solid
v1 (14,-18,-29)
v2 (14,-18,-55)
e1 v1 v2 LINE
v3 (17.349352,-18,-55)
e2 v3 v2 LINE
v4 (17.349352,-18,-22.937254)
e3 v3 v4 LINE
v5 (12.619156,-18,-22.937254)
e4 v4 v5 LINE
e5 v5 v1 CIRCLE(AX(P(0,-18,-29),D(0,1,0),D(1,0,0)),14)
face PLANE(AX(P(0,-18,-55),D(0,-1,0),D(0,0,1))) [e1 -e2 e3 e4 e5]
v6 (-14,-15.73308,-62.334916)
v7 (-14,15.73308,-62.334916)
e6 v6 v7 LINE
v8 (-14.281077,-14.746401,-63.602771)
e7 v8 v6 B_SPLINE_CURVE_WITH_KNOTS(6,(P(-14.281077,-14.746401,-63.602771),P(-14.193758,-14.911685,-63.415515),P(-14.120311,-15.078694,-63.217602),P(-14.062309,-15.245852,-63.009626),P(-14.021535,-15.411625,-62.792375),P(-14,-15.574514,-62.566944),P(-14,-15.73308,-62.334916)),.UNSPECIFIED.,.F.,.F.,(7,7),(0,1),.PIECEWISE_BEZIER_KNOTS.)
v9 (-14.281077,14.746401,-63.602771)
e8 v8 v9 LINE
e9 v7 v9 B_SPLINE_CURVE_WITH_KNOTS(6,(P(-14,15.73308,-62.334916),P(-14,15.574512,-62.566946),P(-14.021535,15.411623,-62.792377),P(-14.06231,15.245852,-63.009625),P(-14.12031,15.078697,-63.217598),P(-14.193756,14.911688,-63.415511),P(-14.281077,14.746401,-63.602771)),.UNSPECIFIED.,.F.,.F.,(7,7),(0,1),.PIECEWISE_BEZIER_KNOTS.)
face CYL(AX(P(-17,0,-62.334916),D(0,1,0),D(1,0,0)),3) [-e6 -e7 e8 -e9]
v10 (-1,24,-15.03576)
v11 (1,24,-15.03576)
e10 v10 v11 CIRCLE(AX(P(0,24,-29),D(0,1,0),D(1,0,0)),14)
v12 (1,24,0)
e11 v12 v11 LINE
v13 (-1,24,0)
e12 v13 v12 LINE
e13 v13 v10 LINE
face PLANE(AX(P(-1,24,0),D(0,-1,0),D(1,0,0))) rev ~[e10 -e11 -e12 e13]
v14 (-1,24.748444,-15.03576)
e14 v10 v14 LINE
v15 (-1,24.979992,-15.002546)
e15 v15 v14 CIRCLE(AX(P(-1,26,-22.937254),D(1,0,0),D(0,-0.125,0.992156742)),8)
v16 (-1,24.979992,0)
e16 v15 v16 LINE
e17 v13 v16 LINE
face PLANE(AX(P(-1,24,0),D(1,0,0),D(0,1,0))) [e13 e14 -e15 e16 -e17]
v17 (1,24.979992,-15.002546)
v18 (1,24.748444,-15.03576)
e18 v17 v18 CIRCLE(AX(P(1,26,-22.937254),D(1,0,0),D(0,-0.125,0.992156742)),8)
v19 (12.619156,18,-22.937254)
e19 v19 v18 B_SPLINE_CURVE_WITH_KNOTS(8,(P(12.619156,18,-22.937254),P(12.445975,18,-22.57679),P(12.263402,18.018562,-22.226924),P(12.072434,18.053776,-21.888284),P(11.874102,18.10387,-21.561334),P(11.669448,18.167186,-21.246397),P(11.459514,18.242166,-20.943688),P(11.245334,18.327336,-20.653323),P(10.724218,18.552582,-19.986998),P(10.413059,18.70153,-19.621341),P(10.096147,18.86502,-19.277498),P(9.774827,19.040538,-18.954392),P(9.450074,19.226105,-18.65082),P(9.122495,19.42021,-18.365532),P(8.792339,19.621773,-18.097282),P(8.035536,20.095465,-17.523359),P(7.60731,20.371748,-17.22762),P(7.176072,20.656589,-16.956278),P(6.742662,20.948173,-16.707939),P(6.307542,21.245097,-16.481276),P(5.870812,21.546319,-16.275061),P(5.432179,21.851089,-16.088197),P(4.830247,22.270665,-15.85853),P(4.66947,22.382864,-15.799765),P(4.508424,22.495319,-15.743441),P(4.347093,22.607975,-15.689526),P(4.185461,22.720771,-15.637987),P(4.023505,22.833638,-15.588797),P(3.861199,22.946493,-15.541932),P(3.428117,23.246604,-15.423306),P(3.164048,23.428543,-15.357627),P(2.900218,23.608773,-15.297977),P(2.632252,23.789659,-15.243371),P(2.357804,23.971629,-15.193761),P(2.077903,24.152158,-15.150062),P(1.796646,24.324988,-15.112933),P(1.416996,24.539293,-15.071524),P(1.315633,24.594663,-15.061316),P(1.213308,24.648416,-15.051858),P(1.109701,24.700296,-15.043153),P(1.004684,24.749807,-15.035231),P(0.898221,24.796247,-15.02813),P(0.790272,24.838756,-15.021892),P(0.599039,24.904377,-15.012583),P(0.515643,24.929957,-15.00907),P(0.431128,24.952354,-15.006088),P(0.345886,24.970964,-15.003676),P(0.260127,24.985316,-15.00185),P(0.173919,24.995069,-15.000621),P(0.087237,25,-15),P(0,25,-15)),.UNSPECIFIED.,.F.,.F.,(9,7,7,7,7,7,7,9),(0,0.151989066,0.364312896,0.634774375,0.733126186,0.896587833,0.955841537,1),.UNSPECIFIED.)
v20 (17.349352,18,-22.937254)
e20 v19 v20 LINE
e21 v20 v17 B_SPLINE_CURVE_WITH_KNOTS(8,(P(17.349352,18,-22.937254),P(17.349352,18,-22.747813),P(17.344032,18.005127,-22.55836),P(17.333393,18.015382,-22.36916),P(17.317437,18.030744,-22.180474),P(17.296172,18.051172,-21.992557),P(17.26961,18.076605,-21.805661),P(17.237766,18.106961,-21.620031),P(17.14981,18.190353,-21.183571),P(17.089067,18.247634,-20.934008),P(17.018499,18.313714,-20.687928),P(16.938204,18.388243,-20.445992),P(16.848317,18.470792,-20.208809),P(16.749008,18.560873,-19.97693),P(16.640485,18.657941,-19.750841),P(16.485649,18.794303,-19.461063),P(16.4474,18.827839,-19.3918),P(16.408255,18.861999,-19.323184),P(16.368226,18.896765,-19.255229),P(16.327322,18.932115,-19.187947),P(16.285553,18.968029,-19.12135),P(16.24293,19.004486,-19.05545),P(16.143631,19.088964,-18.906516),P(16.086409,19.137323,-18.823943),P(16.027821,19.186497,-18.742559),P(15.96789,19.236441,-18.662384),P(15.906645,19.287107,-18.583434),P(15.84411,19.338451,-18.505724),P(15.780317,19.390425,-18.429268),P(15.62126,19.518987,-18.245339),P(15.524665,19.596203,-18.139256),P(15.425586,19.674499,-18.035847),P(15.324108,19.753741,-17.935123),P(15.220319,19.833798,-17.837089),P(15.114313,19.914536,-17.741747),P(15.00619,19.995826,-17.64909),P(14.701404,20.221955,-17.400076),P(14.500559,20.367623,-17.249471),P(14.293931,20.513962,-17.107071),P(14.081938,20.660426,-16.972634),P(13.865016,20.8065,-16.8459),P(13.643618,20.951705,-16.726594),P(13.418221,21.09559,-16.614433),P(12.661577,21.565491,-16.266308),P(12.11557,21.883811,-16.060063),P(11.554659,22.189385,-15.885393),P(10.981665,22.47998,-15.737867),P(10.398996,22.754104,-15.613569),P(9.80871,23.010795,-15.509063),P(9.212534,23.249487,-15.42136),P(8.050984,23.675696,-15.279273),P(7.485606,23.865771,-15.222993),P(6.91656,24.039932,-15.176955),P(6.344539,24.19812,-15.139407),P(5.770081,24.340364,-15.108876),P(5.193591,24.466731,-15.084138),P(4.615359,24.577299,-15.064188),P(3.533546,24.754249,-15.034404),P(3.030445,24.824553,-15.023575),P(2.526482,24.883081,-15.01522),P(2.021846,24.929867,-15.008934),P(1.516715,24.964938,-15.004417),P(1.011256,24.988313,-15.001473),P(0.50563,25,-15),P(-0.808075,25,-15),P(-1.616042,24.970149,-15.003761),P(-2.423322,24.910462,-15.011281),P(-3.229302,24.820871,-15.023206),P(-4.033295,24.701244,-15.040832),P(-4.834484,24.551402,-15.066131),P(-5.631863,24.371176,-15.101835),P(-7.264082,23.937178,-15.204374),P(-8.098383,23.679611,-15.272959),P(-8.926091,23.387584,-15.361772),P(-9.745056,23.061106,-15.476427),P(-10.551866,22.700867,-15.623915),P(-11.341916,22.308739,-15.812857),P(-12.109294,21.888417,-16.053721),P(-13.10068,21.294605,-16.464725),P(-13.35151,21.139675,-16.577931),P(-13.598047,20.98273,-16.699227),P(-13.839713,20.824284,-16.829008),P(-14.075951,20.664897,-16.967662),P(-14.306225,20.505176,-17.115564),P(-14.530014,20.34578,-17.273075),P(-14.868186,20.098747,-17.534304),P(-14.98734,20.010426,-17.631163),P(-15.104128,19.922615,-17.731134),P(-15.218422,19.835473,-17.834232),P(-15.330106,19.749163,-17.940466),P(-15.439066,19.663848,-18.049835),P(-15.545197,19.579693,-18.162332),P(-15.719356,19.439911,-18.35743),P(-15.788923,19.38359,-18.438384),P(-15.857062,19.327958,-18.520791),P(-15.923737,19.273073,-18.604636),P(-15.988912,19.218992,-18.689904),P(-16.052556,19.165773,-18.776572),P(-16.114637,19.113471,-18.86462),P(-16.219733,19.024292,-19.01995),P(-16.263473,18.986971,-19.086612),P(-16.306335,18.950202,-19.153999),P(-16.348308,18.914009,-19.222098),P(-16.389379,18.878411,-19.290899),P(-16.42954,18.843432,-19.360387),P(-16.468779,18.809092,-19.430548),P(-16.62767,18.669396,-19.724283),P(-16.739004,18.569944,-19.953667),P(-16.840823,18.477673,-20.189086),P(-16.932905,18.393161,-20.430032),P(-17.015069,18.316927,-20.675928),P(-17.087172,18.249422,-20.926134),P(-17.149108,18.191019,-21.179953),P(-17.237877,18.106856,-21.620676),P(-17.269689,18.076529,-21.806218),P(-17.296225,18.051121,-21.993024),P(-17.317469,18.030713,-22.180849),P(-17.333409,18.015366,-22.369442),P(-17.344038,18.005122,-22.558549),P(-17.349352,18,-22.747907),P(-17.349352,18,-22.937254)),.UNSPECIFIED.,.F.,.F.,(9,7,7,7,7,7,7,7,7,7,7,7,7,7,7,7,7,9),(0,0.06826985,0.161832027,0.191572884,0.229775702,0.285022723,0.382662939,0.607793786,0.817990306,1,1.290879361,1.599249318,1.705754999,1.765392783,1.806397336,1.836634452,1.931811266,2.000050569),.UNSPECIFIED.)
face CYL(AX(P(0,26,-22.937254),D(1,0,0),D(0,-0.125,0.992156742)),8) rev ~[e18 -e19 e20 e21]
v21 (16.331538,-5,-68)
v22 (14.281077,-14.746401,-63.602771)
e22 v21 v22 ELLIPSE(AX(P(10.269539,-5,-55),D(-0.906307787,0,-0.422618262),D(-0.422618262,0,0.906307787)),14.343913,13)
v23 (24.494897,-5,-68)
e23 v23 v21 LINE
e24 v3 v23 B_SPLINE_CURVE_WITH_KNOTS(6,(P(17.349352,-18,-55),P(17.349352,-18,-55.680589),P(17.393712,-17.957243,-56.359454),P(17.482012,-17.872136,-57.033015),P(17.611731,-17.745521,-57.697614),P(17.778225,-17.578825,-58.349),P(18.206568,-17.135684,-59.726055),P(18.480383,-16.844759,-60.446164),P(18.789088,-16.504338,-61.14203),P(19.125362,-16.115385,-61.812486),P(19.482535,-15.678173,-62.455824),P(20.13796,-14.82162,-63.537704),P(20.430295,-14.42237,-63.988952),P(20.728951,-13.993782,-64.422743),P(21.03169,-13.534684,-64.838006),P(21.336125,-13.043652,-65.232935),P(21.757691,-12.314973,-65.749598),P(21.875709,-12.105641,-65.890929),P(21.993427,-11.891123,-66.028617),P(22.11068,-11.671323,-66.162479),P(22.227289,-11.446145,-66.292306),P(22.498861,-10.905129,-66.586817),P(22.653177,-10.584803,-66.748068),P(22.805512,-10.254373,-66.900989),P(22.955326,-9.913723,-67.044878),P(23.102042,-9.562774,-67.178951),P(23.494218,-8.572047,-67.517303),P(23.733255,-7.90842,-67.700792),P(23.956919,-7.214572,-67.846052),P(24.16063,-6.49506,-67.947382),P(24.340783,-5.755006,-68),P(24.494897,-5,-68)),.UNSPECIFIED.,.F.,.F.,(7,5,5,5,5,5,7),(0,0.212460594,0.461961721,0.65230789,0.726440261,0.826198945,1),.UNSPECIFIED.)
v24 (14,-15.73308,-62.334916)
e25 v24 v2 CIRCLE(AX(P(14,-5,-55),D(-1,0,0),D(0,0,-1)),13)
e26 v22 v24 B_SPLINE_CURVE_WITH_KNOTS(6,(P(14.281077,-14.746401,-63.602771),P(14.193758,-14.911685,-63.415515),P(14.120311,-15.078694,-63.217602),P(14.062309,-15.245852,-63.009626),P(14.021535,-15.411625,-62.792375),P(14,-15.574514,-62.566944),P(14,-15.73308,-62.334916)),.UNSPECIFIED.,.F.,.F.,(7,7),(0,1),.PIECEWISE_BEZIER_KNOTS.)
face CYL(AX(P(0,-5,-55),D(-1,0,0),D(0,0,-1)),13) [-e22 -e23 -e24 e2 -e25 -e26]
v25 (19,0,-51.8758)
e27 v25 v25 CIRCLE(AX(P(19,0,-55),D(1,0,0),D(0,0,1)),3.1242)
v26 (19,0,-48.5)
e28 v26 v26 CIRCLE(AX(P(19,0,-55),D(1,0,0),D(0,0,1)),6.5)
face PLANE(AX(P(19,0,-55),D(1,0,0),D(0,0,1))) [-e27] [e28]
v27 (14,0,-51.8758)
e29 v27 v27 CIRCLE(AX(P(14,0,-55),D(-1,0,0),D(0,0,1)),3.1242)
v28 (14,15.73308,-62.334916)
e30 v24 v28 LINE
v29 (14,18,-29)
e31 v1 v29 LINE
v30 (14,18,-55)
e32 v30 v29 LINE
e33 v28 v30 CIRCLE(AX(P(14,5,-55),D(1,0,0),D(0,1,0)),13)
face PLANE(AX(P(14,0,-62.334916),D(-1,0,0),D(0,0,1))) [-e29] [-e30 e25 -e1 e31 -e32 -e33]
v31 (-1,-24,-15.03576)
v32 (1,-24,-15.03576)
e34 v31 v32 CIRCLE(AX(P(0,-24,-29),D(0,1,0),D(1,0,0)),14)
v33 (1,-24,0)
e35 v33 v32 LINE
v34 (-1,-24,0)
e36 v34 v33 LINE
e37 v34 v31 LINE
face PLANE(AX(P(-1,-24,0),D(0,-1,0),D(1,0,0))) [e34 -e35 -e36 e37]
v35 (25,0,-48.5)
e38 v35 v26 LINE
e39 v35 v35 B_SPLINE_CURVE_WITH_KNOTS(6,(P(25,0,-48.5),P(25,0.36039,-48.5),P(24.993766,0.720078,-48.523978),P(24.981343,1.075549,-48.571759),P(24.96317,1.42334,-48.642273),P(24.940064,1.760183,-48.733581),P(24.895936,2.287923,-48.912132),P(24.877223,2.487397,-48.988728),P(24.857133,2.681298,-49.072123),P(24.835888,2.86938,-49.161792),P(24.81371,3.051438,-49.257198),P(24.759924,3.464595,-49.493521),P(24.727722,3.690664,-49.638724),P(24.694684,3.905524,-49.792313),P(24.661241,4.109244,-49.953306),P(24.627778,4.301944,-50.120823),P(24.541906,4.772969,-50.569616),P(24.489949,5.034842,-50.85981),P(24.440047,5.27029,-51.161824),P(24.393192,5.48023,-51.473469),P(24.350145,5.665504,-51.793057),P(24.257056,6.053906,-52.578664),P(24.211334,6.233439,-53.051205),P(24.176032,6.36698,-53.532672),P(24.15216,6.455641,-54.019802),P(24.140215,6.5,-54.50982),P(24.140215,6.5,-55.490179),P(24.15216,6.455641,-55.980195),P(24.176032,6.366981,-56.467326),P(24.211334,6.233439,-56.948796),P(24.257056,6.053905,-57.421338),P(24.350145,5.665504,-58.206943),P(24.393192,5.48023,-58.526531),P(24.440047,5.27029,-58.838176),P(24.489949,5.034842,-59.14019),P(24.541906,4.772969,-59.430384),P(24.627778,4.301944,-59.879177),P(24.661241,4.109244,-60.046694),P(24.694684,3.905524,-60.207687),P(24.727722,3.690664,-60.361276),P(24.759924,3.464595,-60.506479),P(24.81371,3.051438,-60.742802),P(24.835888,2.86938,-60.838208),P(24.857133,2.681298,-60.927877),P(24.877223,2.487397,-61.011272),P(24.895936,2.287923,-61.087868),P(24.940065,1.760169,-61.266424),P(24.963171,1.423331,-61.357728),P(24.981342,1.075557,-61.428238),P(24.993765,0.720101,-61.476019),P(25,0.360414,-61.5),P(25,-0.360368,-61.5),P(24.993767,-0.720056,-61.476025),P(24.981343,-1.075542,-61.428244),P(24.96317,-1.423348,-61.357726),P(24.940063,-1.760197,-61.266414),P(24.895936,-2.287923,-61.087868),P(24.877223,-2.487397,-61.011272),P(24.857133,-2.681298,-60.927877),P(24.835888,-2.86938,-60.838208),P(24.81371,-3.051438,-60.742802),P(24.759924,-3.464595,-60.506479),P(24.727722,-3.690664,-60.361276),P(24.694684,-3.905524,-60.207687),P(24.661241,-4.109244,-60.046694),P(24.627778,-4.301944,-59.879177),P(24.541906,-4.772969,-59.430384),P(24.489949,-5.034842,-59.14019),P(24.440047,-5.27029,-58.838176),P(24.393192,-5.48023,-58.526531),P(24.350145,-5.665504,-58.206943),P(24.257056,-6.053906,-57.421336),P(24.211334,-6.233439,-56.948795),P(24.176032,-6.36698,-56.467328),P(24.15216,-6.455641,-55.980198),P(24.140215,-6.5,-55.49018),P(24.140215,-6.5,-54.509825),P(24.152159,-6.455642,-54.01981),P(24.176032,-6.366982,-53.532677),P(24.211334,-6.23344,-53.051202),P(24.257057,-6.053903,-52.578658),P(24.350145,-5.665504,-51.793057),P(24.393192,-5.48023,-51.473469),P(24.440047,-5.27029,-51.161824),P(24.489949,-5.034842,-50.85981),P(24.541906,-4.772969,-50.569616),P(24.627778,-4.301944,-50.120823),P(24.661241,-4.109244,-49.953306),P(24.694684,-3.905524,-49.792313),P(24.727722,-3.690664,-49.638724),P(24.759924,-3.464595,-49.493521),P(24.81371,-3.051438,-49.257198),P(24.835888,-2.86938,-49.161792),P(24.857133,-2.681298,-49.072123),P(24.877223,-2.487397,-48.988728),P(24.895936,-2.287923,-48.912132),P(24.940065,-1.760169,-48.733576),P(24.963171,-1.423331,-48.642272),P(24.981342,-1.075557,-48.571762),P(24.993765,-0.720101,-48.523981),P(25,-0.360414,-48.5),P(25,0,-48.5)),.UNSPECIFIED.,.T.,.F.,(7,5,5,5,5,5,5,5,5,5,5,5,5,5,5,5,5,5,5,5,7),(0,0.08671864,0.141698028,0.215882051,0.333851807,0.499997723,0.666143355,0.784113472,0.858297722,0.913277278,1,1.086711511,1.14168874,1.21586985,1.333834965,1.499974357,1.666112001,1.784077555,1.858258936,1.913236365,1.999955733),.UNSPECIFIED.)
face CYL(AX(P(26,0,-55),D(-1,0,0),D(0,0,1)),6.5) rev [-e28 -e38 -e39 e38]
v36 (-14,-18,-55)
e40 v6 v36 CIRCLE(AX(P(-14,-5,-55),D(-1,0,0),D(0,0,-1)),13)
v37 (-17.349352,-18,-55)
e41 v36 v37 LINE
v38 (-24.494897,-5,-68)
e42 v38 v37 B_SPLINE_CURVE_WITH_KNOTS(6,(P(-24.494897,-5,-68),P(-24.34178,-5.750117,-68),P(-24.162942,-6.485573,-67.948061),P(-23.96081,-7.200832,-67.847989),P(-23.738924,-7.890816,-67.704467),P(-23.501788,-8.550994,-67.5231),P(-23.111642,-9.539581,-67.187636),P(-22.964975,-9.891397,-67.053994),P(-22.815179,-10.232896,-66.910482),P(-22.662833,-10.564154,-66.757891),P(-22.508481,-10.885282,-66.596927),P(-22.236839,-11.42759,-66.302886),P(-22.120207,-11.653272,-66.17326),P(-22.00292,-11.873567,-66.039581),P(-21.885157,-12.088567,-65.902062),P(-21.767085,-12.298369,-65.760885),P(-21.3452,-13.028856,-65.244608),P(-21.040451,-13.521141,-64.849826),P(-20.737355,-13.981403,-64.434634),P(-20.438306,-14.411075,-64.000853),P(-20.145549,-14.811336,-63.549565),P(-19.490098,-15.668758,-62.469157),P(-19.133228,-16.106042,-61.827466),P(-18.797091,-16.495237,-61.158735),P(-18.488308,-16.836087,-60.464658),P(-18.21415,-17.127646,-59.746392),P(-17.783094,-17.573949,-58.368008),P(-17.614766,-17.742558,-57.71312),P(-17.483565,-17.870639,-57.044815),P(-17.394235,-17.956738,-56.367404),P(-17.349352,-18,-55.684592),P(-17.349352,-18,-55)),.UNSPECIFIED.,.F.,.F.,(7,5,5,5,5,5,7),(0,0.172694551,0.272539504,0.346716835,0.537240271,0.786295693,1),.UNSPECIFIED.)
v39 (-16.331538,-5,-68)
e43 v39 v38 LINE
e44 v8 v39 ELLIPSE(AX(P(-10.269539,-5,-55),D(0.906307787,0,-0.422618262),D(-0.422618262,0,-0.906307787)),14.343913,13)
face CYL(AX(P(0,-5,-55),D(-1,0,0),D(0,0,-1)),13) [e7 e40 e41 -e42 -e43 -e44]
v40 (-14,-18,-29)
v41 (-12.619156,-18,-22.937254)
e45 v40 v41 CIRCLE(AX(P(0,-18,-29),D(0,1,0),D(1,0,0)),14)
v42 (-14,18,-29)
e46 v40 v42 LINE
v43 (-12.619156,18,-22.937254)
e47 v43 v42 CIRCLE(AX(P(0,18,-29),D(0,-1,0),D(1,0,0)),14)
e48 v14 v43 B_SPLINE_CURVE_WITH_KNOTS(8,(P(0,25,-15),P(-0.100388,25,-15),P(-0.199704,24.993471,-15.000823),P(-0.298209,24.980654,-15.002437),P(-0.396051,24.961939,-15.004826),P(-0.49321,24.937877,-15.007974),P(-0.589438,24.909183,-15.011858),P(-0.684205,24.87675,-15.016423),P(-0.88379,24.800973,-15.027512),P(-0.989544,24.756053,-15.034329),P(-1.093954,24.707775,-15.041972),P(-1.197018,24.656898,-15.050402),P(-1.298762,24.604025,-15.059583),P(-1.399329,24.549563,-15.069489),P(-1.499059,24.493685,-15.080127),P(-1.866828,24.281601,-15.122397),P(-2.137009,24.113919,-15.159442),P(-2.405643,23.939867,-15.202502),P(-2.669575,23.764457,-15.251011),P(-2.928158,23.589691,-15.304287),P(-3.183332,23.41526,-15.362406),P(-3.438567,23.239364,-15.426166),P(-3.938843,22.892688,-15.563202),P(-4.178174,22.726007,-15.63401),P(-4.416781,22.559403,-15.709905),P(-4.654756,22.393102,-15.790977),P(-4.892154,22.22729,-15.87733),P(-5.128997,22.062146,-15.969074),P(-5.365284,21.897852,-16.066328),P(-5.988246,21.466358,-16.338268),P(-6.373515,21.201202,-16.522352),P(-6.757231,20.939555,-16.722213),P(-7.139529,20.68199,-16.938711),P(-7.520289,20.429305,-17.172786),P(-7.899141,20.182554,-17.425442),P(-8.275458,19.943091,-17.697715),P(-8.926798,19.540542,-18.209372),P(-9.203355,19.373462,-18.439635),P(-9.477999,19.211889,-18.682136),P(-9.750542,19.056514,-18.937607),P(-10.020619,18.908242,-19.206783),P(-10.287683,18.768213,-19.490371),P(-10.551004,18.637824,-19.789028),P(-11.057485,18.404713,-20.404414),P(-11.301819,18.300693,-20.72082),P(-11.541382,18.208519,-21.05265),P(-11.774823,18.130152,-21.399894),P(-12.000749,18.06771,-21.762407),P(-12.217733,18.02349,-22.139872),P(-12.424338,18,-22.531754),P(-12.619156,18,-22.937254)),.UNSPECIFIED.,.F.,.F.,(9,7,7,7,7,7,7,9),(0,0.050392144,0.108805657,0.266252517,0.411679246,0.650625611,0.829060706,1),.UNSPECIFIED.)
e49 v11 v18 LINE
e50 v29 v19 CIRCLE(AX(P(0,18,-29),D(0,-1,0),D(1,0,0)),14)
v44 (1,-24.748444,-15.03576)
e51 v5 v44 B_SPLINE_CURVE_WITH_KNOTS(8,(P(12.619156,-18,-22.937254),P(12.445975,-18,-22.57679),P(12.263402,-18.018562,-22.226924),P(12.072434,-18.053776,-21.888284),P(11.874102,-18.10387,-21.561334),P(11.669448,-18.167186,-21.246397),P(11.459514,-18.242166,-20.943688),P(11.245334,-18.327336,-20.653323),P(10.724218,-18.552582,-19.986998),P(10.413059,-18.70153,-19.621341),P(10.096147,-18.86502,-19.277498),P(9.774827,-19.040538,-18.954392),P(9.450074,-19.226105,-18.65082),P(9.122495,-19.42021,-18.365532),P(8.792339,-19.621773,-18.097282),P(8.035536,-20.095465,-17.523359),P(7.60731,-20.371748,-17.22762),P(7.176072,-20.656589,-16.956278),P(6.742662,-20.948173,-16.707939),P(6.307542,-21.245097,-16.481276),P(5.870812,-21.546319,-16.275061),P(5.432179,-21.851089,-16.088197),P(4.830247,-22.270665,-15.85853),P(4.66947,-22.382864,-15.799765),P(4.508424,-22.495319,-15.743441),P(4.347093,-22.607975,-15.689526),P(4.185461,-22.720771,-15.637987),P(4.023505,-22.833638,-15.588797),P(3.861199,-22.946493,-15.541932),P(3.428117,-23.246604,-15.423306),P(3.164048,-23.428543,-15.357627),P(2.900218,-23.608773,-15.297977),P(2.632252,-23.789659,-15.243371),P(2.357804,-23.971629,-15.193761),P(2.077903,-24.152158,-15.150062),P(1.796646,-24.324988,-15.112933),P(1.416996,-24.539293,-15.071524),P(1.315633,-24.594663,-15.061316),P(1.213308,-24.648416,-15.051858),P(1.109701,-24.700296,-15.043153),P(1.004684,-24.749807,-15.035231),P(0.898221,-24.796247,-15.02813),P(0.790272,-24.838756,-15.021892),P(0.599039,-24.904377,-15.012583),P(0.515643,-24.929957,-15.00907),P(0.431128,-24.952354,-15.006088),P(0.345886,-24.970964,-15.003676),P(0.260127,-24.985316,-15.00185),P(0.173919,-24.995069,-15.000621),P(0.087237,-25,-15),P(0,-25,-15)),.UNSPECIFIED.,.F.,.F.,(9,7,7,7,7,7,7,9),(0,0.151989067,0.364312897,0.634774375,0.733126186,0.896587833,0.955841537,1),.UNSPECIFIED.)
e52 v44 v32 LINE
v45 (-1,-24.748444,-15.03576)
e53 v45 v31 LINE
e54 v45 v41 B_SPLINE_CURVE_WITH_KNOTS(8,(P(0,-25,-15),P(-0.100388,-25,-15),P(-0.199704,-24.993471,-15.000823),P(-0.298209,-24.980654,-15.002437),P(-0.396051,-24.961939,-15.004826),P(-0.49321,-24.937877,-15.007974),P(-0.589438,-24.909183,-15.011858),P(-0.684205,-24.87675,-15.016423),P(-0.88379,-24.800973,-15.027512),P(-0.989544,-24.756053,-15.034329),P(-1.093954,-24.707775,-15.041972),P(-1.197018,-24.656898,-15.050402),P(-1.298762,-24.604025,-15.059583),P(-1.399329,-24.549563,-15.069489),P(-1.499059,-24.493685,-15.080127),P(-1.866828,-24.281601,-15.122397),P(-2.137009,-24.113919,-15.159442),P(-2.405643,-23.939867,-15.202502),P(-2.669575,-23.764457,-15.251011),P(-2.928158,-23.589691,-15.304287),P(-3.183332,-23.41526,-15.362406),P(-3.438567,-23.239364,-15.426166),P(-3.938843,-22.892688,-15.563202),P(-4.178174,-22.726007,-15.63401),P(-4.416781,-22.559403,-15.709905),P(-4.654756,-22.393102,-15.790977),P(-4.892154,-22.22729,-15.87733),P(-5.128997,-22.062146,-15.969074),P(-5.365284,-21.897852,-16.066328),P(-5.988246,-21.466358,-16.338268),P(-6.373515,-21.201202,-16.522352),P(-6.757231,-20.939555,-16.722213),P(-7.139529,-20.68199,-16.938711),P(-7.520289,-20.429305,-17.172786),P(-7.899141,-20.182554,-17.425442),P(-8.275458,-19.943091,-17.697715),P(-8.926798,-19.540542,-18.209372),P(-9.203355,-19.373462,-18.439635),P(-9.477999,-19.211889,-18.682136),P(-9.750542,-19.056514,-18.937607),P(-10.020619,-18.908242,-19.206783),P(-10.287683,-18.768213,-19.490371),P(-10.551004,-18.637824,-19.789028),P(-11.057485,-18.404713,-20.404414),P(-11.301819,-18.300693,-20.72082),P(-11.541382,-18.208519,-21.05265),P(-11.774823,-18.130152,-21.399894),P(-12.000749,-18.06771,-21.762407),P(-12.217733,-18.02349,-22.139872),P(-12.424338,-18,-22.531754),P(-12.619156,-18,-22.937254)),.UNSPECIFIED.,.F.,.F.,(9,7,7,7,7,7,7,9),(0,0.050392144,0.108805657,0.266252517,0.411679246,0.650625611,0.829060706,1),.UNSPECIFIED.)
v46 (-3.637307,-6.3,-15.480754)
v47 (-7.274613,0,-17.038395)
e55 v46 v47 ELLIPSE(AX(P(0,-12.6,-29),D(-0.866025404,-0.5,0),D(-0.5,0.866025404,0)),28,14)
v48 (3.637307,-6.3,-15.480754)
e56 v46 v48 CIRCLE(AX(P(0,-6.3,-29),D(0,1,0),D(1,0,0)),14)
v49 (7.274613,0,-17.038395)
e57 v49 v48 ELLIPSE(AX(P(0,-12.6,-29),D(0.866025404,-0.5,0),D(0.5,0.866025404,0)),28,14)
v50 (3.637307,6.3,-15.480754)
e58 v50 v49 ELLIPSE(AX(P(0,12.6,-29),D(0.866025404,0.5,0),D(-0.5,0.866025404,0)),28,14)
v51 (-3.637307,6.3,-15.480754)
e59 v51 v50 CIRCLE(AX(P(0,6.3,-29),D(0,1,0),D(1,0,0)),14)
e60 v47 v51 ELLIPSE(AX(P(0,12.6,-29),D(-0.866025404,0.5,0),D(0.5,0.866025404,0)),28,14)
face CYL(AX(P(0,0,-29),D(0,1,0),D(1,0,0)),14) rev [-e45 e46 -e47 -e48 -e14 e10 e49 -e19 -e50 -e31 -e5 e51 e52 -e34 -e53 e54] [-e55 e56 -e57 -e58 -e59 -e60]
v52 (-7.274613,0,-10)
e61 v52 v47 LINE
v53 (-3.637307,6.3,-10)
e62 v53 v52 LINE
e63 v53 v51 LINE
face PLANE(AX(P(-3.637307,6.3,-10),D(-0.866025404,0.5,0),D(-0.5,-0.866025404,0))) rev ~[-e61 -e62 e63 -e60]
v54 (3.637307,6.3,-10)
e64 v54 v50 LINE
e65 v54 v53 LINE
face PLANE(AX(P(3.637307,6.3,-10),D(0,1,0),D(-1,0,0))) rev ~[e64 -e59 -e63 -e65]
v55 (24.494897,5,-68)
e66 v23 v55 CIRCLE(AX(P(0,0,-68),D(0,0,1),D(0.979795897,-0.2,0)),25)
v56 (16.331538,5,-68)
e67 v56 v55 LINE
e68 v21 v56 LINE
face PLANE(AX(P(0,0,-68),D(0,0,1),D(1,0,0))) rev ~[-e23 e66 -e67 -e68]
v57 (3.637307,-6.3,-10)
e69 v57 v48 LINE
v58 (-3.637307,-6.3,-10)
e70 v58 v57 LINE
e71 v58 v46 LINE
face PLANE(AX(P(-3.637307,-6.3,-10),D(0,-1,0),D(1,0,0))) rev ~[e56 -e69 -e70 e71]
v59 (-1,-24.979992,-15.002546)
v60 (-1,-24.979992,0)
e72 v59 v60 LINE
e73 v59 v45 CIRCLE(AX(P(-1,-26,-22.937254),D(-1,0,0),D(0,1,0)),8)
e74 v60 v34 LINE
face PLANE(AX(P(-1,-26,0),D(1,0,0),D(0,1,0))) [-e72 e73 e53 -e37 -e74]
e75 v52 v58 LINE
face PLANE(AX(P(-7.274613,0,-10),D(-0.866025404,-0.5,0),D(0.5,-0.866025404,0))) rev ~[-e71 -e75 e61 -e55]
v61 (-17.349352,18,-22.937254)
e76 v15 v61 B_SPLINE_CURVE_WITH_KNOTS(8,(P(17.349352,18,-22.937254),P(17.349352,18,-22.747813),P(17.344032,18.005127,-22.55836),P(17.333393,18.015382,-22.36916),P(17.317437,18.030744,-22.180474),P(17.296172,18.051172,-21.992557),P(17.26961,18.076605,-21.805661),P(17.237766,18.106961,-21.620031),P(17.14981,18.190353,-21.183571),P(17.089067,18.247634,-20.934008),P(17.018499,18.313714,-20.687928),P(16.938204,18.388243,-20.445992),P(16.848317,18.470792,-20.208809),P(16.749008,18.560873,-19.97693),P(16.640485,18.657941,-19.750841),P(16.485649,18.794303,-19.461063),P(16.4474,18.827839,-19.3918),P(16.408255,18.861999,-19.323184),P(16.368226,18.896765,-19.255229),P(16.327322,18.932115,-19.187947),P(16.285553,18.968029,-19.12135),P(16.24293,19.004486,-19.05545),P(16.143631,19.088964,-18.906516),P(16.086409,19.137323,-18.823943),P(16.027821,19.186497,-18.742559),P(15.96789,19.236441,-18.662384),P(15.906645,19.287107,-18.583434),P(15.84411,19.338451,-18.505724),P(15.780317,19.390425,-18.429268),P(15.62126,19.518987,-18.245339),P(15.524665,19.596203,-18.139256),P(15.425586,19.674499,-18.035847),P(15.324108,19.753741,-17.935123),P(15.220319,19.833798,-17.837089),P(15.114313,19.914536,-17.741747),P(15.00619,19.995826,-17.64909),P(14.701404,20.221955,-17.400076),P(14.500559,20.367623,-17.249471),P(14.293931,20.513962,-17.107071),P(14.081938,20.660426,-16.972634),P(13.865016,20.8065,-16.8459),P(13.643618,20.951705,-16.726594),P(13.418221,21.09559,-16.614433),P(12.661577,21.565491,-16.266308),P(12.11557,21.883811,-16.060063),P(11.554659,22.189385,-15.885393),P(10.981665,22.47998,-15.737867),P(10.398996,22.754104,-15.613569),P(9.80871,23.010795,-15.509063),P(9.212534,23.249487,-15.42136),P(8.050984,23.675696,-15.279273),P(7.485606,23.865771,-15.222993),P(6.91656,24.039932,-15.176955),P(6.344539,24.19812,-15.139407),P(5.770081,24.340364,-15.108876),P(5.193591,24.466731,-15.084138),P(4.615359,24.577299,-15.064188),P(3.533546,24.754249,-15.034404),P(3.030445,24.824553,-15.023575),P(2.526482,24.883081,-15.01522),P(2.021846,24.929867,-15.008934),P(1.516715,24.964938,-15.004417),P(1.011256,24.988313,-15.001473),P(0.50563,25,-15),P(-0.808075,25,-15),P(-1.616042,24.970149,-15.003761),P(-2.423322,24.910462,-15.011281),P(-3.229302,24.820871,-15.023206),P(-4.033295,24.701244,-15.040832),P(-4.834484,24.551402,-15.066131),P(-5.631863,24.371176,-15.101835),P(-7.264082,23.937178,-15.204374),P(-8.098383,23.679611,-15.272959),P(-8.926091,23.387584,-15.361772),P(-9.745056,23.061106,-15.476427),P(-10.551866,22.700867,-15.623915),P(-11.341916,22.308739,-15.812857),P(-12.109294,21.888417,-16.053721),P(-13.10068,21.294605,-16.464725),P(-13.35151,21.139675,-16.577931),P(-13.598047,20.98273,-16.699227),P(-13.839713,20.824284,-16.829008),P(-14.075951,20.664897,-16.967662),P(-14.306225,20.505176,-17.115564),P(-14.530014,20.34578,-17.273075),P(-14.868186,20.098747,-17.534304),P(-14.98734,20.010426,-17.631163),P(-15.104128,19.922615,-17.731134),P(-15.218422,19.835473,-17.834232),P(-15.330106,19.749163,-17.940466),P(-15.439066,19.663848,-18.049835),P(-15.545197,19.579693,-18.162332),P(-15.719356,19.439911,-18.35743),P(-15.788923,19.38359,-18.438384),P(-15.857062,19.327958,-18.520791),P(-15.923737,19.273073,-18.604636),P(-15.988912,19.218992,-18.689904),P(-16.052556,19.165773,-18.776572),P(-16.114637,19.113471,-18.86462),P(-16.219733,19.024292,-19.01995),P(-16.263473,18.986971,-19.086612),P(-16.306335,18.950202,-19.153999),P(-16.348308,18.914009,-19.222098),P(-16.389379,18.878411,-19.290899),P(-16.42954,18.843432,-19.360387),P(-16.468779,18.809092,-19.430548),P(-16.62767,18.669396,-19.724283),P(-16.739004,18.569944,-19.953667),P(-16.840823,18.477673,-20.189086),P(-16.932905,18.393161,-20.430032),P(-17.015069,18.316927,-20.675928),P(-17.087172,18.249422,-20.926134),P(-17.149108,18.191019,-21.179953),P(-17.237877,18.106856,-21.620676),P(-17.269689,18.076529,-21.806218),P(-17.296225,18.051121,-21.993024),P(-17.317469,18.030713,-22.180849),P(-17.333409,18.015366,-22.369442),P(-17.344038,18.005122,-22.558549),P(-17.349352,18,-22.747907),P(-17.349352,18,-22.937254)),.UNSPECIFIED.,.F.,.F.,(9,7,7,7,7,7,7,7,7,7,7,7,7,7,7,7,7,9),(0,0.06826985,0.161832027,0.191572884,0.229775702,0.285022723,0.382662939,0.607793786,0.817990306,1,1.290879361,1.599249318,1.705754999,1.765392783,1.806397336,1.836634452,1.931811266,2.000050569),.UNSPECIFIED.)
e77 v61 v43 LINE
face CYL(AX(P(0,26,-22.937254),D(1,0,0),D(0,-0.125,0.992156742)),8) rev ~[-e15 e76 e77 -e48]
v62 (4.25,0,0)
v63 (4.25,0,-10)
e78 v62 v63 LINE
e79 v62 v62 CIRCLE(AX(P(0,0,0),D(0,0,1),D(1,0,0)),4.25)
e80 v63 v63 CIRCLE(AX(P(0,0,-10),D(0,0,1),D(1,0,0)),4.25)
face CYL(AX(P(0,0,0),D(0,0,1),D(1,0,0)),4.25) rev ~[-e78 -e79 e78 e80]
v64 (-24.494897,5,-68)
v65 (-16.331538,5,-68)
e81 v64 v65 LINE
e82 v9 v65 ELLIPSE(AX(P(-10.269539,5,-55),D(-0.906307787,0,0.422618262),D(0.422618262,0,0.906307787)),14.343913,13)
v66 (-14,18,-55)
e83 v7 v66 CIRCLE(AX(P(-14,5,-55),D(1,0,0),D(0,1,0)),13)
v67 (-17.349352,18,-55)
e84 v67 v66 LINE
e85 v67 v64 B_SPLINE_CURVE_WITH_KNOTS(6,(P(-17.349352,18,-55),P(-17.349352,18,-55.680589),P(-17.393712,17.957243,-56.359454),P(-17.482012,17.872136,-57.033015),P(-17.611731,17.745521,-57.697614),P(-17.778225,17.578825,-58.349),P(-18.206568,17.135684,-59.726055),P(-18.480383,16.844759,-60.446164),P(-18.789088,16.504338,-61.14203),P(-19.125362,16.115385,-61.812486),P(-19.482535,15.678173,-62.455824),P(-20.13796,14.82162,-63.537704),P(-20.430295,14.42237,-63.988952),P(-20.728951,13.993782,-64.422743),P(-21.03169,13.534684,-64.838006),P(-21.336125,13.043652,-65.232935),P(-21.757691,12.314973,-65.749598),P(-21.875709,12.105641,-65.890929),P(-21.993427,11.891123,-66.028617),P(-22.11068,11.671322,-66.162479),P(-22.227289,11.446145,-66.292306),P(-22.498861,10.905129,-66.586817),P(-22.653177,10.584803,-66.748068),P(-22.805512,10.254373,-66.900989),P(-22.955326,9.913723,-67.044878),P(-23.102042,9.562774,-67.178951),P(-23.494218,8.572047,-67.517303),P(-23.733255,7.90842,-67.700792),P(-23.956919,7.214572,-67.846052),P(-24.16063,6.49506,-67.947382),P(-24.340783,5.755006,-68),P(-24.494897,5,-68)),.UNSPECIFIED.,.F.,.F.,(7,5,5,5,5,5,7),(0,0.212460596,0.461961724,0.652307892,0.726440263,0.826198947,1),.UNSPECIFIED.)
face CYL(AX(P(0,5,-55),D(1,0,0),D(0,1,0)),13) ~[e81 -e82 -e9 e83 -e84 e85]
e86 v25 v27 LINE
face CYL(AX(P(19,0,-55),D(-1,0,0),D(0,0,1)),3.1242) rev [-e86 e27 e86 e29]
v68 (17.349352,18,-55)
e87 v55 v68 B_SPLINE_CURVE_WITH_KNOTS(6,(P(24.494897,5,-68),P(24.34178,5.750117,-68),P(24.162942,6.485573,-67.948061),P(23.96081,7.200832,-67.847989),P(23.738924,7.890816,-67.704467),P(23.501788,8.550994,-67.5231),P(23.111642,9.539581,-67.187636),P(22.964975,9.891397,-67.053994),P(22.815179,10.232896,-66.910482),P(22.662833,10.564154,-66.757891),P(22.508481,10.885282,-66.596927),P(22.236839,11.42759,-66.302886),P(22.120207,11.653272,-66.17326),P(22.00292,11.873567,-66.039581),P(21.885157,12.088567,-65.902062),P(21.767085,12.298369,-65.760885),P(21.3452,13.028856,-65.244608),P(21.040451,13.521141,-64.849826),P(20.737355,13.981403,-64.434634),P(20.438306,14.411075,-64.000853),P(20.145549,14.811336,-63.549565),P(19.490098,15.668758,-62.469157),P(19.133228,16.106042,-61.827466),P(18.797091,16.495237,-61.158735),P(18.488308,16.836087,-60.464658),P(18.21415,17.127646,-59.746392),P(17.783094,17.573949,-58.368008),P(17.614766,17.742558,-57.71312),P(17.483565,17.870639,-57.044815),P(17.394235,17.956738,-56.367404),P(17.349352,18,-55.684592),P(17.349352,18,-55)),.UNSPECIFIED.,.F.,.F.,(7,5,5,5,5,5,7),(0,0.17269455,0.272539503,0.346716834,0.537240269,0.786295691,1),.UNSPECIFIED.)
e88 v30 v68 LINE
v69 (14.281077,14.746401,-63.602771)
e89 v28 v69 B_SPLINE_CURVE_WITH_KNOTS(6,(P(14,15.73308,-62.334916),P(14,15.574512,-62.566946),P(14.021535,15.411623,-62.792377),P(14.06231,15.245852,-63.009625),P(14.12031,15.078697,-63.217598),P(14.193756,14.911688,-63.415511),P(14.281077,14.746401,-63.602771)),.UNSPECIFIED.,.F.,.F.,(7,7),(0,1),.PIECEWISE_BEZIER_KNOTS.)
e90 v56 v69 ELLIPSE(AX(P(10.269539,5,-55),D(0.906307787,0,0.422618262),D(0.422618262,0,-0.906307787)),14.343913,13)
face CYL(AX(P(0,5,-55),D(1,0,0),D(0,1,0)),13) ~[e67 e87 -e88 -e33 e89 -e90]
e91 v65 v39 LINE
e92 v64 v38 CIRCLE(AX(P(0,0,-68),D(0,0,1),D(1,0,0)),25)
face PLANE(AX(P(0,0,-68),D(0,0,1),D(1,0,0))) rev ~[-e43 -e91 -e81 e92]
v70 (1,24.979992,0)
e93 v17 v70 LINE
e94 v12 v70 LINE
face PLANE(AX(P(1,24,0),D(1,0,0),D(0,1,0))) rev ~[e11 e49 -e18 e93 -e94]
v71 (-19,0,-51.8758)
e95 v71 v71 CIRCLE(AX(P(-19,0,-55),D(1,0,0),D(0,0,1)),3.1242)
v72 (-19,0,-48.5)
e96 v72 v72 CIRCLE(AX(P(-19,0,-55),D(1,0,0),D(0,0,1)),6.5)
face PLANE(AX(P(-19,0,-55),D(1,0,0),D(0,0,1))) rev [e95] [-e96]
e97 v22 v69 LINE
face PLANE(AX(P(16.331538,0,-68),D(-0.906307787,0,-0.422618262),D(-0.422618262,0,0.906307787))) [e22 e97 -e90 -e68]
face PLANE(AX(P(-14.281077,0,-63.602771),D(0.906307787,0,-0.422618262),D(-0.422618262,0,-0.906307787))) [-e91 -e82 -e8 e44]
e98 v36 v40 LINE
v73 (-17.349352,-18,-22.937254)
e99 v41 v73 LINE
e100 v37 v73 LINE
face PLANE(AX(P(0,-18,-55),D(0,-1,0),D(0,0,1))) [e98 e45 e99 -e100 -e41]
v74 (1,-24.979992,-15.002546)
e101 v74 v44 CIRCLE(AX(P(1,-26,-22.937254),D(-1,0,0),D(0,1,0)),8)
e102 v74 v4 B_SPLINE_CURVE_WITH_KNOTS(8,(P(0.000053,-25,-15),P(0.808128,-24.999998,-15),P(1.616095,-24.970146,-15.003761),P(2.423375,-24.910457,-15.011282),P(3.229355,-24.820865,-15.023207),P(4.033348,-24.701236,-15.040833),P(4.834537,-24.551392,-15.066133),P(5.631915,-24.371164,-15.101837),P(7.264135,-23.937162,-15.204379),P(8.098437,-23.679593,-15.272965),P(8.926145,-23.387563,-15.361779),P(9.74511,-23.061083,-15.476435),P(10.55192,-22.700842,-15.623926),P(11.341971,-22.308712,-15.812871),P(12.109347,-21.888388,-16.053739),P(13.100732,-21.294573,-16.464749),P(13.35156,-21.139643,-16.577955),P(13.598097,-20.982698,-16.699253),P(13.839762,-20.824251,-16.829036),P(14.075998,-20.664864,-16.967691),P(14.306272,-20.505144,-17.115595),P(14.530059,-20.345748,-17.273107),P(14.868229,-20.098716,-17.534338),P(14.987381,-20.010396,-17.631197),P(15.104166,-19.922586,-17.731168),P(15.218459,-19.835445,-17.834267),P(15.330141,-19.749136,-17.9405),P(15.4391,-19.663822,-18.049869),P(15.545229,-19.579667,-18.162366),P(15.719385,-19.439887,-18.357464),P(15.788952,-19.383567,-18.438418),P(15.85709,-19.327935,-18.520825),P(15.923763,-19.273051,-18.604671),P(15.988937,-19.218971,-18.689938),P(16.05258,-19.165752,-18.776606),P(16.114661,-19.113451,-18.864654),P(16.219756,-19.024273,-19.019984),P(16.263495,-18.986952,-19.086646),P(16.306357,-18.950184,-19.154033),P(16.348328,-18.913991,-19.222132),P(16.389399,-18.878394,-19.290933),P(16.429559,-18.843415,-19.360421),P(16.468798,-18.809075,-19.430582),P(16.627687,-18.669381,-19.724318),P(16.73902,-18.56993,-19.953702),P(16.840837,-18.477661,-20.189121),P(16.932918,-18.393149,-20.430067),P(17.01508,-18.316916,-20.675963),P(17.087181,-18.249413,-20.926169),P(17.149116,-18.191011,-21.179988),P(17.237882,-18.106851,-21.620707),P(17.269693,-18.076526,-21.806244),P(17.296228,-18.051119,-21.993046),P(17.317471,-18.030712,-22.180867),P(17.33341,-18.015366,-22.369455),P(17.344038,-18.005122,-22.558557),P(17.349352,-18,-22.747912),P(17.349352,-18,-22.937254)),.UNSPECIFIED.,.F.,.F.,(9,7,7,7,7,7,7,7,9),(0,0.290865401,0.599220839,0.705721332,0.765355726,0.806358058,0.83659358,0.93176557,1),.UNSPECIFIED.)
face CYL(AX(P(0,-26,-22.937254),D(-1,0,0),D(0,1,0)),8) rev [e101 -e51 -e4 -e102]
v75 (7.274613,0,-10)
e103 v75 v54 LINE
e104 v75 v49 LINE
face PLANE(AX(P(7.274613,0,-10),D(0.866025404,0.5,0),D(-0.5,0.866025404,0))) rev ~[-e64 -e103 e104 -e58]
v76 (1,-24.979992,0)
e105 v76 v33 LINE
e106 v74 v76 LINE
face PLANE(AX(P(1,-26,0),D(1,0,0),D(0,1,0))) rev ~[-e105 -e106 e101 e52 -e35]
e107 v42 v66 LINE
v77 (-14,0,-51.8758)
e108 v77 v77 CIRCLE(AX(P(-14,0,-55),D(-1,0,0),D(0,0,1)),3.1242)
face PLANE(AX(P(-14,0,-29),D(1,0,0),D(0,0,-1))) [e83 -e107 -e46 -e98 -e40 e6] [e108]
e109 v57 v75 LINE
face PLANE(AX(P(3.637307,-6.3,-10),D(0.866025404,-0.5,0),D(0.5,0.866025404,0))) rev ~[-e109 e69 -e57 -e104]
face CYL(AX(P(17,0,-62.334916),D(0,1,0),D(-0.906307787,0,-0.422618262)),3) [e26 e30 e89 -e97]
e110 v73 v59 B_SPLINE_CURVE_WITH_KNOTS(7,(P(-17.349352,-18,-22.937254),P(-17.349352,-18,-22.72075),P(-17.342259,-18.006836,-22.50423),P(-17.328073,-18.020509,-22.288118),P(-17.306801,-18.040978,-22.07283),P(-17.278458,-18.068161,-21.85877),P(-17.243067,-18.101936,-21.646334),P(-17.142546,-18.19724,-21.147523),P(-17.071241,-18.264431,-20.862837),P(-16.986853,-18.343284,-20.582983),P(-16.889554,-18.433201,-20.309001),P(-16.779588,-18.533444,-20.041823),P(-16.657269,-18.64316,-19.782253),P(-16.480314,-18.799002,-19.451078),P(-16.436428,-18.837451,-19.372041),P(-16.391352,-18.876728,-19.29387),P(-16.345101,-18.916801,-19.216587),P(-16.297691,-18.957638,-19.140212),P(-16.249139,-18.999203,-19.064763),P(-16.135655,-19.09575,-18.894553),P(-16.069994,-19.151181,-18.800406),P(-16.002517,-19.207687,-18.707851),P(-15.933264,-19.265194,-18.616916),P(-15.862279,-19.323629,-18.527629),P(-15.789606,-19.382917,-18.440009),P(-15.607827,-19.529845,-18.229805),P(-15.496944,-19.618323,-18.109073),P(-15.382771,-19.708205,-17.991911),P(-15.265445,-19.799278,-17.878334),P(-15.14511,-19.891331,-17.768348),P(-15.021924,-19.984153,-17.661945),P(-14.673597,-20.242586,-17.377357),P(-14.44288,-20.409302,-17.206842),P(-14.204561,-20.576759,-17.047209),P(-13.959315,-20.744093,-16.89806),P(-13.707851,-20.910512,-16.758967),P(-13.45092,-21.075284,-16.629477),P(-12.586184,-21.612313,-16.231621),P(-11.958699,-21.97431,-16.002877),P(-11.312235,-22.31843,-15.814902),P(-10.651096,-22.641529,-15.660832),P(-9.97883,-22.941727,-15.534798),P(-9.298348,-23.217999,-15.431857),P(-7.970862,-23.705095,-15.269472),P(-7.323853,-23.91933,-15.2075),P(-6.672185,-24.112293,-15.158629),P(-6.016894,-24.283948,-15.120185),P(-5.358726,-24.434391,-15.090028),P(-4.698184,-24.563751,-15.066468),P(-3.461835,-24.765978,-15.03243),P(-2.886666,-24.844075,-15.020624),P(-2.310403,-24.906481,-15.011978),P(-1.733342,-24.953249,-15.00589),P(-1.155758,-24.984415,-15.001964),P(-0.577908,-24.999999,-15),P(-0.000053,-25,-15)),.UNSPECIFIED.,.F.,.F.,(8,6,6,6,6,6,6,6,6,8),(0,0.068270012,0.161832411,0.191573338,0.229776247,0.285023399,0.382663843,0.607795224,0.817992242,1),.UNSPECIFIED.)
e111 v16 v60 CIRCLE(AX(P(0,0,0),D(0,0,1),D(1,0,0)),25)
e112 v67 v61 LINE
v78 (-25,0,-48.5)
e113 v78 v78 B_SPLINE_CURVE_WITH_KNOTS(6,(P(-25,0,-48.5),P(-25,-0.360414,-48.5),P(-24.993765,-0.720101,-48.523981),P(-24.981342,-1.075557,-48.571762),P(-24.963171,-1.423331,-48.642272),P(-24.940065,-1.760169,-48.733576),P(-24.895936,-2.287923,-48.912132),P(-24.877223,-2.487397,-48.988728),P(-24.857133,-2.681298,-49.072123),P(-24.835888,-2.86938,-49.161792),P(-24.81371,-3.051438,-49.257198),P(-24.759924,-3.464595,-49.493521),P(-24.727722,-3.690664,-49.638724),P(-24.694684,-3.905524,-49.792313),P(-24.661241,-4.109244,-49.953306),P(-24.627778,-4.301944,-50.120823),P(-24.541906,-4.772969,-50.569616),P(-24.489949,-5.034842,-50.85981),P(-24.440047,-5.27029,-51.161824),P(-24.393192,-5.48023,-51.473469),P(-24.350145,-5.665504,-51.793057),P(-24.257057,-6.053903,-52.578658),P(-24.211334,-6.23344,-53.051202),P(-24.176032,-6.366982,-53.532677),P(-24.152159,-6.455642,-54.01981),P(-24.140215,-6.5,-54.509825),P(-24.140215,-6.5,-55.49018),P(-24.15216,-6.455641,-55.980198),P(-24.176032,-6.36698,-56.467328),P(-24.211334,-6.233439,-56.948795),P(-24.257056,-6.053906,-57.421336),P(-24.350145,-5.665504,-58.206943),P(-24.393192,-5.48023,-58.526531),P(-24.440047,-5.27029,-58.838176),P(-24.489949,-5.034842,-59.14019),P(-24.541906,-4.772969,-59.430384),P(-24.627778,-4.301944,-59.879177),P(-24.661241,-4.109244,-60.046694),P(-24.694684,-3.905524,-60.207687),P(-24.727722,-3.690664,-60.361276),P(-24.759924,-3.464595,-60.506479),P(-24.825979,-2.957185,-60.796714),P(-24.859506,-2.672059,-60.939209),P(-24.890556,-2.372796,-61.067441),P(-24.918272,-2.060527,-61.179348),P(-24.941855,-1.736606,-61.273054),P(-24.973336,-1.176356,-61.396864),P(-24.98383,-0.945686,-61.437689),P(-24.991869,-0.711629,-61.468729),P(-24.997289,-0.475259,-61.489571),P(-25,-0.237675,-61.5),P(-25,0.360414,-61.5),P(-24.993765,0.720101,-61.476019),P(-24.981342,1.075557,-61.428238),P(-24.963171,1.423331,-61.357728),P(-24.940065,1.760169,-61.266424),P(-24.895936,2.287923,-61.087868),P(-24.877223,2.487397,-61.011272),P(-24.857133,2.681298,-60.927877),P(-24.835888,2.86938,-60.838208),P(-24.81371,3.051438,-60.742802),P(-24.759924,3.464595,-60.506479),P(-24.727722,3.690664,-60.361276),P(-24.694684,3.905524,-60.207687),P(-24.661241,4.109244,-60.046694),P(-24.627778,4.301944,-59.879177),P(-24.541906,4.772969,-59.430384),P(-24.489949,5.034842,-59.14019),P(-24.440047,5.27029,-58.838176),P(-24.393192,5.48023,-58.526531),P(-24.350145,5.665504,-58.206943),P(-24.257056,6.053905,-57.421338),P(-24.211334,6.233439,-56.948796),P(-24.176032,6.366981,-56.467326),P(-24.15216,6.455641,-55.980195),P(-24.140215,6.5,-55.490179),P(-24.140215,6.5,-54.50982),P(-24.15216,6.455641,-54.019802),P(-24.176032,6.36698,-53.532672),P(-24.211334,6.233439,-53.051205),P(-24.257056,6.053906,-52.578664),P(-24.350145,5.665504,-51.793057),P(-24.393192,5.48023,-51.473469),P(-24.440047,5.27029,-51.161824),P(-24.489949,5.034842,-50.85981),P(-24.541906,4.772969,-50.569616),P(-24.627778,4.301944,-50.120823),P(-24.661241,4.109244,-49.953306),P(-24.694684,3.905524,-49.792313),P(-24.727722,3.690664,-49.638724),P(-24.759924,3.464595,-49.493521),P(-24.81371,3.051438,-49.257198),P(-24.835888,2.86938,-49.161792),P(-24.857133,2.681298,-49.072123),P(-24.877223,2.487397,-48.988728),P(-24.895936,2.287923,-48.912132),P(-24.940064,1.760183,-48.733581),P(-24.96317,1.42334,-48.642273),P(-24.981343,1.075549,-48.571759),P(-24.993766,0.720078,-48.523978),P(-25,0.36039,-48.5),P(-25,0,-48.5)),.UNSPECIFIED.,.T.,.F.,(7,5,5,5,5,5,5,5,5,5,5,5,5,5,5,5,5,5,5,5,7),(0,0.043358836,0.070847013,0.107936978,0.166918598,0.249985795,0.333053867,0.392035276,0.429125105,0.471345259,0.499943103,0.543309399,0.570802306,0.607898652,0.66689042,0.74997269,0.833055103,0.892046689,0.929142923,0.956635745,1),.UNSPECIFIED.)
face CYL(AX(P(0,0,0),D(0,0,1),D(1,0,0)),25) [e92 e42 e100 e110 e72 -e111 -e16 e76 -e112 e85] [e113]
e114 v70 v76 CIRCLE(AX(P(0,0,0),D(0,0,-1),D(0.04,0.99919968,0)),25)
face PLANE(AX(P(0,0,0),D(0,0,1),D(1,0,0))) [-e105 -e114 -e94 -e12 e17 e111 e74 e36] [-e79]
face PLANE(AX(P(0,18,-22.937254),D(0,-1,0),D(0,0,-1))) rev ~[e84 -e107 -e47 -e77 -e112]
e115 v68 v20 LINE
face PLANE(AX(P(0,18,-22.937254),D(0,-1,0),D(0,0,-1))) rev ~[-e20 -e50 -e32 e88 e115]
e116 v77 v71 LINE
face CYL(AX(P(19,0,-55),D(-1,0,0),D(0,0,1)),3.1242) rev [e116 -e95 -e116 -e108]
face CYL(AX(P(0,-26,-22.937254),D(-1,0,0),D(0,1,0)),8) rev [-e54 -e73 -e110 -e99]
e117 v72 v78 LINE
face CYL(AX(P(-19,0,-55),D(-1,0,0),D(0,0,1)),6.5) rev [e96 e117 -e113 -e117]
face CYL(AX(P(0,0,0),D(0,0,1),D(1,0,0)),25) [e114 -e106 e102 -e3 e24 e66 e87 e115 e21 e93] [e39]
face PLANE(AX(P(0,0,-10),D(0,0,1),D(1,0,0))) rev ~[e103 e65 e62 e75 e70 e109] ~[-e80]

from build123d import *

# Parameters (mm, degrees)
F0_R          = 25
F1_DEPTH      = 68
F3_DEPTH      = 25.001
F3_DEPTH_BACK = 25.001
F5_DEPTH      = 25.0010001
F5_DEPTH_BACK = 25.0010001
F8_R          = 4.25
F9_DEPTH      = 25
F12_DEPTH     = 10
F13_W         = 2
F13_H         = 2
F14_DEPTH     = 25


with BuildPart() as f1:
    # F0 (on Top) → F1 (new body)
    with BuildSketch(Plane.XY):
        Circle(F0_R)
    extrude(amount=-F1_DEPTH)

    # F2 (on Right) → F3 (cut, two sides)
    with BuildSketch(Plane.YZ) as f3_sk:
        with BuildLine():
            Line((-25, -15), (-28, -15))
            Line((-28, -15), (-28, -73))
            Line((-28, -73), (0, -73))
            Line((0, -73), (28, -73))
            Line((28, -73), (28, -15))
            Line((28, -15), (25, -15))
            ThreePointArc((25, -15), (20, -17.6457513111), (18, -22.9372539332))
            Line((18, -22.9372539332), (18, -55))
            ThreePointArc((18, -55), (14.1923881554, -64.1923881554), (5, -68))
            Line((5, -68), (0, -68))
            Line((0, -68), (-5, -68))
            ThreePointArc((-5, -68), (-14.1923881554, -64.1923881554), (-18, -55))
            Line((-18, -55), (-18, -22.9372539332))
            ThreePointArc((-18, -22.9372539332), (-20, -17.6457513111), (-25, -15))
        make_face()
    extrude(amount=-F3_DEPTH, mode=Mode.SUBTRACT)
    extrude(f3_sk.sketch, amount=F3_DEPTH_BACK, mode=Mode.SUBTRACT)

    # F4 (on Front) → F5 (cut, two sides)
    with BuildSketch(Plane.XZ) as f5_sk:
        with BuildLine():
            Line((14, -62.3349160121), (14, -29))
            ThreePointArc((14, -29), (0, -15), (-14, -29))
            Line((-14, -29), (-14, -62.3349160121))
            ThreePointArc((-14, -62.3349160121), (-14.0711119786, -62.9842348539), (-14.2810766389, -63.6027707973))
            Line((-14.2810766389, -63.6027707973), (-16.3315382908, -68))
            Line((-16.3315382908, -68), (16.3315382908, -68))
            Line((16.3315382908, -68), (14.2810766389, -63.6027707973))
            ThreePointArc((14.2810766389, -63.6027707973), (14.0711119786, -62.9842348539), (14, -62.3349160121))
        make_face()
    extrude(amount=-F5_DEPTH, mode=Mode.SUBTRACT)
    extrude(f5_sk.sketch, amount=F5_DEPTH_BACK, mode=Mode.SUBTRACT)

    # F6 (on Front) → F7 (revolve, cut)
    with BuildSketch(Plane.XZ):
        Polygon((-19, -48.5), (-26, -48.5), (-26, -55), (0, -55), (26, -55), (26, -48.5), (19, -48.5), (19, -51.8758), (0, -51.8758), (-19, -51.8758), align=None)
    revolve(axis=Axis((0.0713579357, 0, -55), (1, 0, 0)), mode=Mode.SUBTRACT)

    # F8 (on face) → F9 (cut)
    with BuildSketch(Plane.XY):
        Circle(F8_R)
    extrude(amount=-F9_DEPTH, mode=Mode.SUBTRACT)

    # F11 (on offset) → F12 (cut)
    with BuildSketch(Plane.XY.offset(-10)):
        Polygon((3.6373066959, -6.3), (7.2746133918, 0), (3.6373066959, 6.3), (-3.6373066959, 6.3), (-7.2746133918, 0), (-3.6373066959, -6.3), align=None)
    extrude(amount=-F12_DEPTH, mode=Mode.SUBTRACT)

    # F13 (on face) → F14 (cut)
    with BuildSketch(Plane.XY):
        with Locations((0, 25)):
            Rectangle(F13_W, F13_H)
        with Locations((0, -25)):
            Rectangle(F13_W, F13_H)
    extrude(amount=-F14_DEPTH, mode=Mode.SUBTRACT)


solid = f1.part
